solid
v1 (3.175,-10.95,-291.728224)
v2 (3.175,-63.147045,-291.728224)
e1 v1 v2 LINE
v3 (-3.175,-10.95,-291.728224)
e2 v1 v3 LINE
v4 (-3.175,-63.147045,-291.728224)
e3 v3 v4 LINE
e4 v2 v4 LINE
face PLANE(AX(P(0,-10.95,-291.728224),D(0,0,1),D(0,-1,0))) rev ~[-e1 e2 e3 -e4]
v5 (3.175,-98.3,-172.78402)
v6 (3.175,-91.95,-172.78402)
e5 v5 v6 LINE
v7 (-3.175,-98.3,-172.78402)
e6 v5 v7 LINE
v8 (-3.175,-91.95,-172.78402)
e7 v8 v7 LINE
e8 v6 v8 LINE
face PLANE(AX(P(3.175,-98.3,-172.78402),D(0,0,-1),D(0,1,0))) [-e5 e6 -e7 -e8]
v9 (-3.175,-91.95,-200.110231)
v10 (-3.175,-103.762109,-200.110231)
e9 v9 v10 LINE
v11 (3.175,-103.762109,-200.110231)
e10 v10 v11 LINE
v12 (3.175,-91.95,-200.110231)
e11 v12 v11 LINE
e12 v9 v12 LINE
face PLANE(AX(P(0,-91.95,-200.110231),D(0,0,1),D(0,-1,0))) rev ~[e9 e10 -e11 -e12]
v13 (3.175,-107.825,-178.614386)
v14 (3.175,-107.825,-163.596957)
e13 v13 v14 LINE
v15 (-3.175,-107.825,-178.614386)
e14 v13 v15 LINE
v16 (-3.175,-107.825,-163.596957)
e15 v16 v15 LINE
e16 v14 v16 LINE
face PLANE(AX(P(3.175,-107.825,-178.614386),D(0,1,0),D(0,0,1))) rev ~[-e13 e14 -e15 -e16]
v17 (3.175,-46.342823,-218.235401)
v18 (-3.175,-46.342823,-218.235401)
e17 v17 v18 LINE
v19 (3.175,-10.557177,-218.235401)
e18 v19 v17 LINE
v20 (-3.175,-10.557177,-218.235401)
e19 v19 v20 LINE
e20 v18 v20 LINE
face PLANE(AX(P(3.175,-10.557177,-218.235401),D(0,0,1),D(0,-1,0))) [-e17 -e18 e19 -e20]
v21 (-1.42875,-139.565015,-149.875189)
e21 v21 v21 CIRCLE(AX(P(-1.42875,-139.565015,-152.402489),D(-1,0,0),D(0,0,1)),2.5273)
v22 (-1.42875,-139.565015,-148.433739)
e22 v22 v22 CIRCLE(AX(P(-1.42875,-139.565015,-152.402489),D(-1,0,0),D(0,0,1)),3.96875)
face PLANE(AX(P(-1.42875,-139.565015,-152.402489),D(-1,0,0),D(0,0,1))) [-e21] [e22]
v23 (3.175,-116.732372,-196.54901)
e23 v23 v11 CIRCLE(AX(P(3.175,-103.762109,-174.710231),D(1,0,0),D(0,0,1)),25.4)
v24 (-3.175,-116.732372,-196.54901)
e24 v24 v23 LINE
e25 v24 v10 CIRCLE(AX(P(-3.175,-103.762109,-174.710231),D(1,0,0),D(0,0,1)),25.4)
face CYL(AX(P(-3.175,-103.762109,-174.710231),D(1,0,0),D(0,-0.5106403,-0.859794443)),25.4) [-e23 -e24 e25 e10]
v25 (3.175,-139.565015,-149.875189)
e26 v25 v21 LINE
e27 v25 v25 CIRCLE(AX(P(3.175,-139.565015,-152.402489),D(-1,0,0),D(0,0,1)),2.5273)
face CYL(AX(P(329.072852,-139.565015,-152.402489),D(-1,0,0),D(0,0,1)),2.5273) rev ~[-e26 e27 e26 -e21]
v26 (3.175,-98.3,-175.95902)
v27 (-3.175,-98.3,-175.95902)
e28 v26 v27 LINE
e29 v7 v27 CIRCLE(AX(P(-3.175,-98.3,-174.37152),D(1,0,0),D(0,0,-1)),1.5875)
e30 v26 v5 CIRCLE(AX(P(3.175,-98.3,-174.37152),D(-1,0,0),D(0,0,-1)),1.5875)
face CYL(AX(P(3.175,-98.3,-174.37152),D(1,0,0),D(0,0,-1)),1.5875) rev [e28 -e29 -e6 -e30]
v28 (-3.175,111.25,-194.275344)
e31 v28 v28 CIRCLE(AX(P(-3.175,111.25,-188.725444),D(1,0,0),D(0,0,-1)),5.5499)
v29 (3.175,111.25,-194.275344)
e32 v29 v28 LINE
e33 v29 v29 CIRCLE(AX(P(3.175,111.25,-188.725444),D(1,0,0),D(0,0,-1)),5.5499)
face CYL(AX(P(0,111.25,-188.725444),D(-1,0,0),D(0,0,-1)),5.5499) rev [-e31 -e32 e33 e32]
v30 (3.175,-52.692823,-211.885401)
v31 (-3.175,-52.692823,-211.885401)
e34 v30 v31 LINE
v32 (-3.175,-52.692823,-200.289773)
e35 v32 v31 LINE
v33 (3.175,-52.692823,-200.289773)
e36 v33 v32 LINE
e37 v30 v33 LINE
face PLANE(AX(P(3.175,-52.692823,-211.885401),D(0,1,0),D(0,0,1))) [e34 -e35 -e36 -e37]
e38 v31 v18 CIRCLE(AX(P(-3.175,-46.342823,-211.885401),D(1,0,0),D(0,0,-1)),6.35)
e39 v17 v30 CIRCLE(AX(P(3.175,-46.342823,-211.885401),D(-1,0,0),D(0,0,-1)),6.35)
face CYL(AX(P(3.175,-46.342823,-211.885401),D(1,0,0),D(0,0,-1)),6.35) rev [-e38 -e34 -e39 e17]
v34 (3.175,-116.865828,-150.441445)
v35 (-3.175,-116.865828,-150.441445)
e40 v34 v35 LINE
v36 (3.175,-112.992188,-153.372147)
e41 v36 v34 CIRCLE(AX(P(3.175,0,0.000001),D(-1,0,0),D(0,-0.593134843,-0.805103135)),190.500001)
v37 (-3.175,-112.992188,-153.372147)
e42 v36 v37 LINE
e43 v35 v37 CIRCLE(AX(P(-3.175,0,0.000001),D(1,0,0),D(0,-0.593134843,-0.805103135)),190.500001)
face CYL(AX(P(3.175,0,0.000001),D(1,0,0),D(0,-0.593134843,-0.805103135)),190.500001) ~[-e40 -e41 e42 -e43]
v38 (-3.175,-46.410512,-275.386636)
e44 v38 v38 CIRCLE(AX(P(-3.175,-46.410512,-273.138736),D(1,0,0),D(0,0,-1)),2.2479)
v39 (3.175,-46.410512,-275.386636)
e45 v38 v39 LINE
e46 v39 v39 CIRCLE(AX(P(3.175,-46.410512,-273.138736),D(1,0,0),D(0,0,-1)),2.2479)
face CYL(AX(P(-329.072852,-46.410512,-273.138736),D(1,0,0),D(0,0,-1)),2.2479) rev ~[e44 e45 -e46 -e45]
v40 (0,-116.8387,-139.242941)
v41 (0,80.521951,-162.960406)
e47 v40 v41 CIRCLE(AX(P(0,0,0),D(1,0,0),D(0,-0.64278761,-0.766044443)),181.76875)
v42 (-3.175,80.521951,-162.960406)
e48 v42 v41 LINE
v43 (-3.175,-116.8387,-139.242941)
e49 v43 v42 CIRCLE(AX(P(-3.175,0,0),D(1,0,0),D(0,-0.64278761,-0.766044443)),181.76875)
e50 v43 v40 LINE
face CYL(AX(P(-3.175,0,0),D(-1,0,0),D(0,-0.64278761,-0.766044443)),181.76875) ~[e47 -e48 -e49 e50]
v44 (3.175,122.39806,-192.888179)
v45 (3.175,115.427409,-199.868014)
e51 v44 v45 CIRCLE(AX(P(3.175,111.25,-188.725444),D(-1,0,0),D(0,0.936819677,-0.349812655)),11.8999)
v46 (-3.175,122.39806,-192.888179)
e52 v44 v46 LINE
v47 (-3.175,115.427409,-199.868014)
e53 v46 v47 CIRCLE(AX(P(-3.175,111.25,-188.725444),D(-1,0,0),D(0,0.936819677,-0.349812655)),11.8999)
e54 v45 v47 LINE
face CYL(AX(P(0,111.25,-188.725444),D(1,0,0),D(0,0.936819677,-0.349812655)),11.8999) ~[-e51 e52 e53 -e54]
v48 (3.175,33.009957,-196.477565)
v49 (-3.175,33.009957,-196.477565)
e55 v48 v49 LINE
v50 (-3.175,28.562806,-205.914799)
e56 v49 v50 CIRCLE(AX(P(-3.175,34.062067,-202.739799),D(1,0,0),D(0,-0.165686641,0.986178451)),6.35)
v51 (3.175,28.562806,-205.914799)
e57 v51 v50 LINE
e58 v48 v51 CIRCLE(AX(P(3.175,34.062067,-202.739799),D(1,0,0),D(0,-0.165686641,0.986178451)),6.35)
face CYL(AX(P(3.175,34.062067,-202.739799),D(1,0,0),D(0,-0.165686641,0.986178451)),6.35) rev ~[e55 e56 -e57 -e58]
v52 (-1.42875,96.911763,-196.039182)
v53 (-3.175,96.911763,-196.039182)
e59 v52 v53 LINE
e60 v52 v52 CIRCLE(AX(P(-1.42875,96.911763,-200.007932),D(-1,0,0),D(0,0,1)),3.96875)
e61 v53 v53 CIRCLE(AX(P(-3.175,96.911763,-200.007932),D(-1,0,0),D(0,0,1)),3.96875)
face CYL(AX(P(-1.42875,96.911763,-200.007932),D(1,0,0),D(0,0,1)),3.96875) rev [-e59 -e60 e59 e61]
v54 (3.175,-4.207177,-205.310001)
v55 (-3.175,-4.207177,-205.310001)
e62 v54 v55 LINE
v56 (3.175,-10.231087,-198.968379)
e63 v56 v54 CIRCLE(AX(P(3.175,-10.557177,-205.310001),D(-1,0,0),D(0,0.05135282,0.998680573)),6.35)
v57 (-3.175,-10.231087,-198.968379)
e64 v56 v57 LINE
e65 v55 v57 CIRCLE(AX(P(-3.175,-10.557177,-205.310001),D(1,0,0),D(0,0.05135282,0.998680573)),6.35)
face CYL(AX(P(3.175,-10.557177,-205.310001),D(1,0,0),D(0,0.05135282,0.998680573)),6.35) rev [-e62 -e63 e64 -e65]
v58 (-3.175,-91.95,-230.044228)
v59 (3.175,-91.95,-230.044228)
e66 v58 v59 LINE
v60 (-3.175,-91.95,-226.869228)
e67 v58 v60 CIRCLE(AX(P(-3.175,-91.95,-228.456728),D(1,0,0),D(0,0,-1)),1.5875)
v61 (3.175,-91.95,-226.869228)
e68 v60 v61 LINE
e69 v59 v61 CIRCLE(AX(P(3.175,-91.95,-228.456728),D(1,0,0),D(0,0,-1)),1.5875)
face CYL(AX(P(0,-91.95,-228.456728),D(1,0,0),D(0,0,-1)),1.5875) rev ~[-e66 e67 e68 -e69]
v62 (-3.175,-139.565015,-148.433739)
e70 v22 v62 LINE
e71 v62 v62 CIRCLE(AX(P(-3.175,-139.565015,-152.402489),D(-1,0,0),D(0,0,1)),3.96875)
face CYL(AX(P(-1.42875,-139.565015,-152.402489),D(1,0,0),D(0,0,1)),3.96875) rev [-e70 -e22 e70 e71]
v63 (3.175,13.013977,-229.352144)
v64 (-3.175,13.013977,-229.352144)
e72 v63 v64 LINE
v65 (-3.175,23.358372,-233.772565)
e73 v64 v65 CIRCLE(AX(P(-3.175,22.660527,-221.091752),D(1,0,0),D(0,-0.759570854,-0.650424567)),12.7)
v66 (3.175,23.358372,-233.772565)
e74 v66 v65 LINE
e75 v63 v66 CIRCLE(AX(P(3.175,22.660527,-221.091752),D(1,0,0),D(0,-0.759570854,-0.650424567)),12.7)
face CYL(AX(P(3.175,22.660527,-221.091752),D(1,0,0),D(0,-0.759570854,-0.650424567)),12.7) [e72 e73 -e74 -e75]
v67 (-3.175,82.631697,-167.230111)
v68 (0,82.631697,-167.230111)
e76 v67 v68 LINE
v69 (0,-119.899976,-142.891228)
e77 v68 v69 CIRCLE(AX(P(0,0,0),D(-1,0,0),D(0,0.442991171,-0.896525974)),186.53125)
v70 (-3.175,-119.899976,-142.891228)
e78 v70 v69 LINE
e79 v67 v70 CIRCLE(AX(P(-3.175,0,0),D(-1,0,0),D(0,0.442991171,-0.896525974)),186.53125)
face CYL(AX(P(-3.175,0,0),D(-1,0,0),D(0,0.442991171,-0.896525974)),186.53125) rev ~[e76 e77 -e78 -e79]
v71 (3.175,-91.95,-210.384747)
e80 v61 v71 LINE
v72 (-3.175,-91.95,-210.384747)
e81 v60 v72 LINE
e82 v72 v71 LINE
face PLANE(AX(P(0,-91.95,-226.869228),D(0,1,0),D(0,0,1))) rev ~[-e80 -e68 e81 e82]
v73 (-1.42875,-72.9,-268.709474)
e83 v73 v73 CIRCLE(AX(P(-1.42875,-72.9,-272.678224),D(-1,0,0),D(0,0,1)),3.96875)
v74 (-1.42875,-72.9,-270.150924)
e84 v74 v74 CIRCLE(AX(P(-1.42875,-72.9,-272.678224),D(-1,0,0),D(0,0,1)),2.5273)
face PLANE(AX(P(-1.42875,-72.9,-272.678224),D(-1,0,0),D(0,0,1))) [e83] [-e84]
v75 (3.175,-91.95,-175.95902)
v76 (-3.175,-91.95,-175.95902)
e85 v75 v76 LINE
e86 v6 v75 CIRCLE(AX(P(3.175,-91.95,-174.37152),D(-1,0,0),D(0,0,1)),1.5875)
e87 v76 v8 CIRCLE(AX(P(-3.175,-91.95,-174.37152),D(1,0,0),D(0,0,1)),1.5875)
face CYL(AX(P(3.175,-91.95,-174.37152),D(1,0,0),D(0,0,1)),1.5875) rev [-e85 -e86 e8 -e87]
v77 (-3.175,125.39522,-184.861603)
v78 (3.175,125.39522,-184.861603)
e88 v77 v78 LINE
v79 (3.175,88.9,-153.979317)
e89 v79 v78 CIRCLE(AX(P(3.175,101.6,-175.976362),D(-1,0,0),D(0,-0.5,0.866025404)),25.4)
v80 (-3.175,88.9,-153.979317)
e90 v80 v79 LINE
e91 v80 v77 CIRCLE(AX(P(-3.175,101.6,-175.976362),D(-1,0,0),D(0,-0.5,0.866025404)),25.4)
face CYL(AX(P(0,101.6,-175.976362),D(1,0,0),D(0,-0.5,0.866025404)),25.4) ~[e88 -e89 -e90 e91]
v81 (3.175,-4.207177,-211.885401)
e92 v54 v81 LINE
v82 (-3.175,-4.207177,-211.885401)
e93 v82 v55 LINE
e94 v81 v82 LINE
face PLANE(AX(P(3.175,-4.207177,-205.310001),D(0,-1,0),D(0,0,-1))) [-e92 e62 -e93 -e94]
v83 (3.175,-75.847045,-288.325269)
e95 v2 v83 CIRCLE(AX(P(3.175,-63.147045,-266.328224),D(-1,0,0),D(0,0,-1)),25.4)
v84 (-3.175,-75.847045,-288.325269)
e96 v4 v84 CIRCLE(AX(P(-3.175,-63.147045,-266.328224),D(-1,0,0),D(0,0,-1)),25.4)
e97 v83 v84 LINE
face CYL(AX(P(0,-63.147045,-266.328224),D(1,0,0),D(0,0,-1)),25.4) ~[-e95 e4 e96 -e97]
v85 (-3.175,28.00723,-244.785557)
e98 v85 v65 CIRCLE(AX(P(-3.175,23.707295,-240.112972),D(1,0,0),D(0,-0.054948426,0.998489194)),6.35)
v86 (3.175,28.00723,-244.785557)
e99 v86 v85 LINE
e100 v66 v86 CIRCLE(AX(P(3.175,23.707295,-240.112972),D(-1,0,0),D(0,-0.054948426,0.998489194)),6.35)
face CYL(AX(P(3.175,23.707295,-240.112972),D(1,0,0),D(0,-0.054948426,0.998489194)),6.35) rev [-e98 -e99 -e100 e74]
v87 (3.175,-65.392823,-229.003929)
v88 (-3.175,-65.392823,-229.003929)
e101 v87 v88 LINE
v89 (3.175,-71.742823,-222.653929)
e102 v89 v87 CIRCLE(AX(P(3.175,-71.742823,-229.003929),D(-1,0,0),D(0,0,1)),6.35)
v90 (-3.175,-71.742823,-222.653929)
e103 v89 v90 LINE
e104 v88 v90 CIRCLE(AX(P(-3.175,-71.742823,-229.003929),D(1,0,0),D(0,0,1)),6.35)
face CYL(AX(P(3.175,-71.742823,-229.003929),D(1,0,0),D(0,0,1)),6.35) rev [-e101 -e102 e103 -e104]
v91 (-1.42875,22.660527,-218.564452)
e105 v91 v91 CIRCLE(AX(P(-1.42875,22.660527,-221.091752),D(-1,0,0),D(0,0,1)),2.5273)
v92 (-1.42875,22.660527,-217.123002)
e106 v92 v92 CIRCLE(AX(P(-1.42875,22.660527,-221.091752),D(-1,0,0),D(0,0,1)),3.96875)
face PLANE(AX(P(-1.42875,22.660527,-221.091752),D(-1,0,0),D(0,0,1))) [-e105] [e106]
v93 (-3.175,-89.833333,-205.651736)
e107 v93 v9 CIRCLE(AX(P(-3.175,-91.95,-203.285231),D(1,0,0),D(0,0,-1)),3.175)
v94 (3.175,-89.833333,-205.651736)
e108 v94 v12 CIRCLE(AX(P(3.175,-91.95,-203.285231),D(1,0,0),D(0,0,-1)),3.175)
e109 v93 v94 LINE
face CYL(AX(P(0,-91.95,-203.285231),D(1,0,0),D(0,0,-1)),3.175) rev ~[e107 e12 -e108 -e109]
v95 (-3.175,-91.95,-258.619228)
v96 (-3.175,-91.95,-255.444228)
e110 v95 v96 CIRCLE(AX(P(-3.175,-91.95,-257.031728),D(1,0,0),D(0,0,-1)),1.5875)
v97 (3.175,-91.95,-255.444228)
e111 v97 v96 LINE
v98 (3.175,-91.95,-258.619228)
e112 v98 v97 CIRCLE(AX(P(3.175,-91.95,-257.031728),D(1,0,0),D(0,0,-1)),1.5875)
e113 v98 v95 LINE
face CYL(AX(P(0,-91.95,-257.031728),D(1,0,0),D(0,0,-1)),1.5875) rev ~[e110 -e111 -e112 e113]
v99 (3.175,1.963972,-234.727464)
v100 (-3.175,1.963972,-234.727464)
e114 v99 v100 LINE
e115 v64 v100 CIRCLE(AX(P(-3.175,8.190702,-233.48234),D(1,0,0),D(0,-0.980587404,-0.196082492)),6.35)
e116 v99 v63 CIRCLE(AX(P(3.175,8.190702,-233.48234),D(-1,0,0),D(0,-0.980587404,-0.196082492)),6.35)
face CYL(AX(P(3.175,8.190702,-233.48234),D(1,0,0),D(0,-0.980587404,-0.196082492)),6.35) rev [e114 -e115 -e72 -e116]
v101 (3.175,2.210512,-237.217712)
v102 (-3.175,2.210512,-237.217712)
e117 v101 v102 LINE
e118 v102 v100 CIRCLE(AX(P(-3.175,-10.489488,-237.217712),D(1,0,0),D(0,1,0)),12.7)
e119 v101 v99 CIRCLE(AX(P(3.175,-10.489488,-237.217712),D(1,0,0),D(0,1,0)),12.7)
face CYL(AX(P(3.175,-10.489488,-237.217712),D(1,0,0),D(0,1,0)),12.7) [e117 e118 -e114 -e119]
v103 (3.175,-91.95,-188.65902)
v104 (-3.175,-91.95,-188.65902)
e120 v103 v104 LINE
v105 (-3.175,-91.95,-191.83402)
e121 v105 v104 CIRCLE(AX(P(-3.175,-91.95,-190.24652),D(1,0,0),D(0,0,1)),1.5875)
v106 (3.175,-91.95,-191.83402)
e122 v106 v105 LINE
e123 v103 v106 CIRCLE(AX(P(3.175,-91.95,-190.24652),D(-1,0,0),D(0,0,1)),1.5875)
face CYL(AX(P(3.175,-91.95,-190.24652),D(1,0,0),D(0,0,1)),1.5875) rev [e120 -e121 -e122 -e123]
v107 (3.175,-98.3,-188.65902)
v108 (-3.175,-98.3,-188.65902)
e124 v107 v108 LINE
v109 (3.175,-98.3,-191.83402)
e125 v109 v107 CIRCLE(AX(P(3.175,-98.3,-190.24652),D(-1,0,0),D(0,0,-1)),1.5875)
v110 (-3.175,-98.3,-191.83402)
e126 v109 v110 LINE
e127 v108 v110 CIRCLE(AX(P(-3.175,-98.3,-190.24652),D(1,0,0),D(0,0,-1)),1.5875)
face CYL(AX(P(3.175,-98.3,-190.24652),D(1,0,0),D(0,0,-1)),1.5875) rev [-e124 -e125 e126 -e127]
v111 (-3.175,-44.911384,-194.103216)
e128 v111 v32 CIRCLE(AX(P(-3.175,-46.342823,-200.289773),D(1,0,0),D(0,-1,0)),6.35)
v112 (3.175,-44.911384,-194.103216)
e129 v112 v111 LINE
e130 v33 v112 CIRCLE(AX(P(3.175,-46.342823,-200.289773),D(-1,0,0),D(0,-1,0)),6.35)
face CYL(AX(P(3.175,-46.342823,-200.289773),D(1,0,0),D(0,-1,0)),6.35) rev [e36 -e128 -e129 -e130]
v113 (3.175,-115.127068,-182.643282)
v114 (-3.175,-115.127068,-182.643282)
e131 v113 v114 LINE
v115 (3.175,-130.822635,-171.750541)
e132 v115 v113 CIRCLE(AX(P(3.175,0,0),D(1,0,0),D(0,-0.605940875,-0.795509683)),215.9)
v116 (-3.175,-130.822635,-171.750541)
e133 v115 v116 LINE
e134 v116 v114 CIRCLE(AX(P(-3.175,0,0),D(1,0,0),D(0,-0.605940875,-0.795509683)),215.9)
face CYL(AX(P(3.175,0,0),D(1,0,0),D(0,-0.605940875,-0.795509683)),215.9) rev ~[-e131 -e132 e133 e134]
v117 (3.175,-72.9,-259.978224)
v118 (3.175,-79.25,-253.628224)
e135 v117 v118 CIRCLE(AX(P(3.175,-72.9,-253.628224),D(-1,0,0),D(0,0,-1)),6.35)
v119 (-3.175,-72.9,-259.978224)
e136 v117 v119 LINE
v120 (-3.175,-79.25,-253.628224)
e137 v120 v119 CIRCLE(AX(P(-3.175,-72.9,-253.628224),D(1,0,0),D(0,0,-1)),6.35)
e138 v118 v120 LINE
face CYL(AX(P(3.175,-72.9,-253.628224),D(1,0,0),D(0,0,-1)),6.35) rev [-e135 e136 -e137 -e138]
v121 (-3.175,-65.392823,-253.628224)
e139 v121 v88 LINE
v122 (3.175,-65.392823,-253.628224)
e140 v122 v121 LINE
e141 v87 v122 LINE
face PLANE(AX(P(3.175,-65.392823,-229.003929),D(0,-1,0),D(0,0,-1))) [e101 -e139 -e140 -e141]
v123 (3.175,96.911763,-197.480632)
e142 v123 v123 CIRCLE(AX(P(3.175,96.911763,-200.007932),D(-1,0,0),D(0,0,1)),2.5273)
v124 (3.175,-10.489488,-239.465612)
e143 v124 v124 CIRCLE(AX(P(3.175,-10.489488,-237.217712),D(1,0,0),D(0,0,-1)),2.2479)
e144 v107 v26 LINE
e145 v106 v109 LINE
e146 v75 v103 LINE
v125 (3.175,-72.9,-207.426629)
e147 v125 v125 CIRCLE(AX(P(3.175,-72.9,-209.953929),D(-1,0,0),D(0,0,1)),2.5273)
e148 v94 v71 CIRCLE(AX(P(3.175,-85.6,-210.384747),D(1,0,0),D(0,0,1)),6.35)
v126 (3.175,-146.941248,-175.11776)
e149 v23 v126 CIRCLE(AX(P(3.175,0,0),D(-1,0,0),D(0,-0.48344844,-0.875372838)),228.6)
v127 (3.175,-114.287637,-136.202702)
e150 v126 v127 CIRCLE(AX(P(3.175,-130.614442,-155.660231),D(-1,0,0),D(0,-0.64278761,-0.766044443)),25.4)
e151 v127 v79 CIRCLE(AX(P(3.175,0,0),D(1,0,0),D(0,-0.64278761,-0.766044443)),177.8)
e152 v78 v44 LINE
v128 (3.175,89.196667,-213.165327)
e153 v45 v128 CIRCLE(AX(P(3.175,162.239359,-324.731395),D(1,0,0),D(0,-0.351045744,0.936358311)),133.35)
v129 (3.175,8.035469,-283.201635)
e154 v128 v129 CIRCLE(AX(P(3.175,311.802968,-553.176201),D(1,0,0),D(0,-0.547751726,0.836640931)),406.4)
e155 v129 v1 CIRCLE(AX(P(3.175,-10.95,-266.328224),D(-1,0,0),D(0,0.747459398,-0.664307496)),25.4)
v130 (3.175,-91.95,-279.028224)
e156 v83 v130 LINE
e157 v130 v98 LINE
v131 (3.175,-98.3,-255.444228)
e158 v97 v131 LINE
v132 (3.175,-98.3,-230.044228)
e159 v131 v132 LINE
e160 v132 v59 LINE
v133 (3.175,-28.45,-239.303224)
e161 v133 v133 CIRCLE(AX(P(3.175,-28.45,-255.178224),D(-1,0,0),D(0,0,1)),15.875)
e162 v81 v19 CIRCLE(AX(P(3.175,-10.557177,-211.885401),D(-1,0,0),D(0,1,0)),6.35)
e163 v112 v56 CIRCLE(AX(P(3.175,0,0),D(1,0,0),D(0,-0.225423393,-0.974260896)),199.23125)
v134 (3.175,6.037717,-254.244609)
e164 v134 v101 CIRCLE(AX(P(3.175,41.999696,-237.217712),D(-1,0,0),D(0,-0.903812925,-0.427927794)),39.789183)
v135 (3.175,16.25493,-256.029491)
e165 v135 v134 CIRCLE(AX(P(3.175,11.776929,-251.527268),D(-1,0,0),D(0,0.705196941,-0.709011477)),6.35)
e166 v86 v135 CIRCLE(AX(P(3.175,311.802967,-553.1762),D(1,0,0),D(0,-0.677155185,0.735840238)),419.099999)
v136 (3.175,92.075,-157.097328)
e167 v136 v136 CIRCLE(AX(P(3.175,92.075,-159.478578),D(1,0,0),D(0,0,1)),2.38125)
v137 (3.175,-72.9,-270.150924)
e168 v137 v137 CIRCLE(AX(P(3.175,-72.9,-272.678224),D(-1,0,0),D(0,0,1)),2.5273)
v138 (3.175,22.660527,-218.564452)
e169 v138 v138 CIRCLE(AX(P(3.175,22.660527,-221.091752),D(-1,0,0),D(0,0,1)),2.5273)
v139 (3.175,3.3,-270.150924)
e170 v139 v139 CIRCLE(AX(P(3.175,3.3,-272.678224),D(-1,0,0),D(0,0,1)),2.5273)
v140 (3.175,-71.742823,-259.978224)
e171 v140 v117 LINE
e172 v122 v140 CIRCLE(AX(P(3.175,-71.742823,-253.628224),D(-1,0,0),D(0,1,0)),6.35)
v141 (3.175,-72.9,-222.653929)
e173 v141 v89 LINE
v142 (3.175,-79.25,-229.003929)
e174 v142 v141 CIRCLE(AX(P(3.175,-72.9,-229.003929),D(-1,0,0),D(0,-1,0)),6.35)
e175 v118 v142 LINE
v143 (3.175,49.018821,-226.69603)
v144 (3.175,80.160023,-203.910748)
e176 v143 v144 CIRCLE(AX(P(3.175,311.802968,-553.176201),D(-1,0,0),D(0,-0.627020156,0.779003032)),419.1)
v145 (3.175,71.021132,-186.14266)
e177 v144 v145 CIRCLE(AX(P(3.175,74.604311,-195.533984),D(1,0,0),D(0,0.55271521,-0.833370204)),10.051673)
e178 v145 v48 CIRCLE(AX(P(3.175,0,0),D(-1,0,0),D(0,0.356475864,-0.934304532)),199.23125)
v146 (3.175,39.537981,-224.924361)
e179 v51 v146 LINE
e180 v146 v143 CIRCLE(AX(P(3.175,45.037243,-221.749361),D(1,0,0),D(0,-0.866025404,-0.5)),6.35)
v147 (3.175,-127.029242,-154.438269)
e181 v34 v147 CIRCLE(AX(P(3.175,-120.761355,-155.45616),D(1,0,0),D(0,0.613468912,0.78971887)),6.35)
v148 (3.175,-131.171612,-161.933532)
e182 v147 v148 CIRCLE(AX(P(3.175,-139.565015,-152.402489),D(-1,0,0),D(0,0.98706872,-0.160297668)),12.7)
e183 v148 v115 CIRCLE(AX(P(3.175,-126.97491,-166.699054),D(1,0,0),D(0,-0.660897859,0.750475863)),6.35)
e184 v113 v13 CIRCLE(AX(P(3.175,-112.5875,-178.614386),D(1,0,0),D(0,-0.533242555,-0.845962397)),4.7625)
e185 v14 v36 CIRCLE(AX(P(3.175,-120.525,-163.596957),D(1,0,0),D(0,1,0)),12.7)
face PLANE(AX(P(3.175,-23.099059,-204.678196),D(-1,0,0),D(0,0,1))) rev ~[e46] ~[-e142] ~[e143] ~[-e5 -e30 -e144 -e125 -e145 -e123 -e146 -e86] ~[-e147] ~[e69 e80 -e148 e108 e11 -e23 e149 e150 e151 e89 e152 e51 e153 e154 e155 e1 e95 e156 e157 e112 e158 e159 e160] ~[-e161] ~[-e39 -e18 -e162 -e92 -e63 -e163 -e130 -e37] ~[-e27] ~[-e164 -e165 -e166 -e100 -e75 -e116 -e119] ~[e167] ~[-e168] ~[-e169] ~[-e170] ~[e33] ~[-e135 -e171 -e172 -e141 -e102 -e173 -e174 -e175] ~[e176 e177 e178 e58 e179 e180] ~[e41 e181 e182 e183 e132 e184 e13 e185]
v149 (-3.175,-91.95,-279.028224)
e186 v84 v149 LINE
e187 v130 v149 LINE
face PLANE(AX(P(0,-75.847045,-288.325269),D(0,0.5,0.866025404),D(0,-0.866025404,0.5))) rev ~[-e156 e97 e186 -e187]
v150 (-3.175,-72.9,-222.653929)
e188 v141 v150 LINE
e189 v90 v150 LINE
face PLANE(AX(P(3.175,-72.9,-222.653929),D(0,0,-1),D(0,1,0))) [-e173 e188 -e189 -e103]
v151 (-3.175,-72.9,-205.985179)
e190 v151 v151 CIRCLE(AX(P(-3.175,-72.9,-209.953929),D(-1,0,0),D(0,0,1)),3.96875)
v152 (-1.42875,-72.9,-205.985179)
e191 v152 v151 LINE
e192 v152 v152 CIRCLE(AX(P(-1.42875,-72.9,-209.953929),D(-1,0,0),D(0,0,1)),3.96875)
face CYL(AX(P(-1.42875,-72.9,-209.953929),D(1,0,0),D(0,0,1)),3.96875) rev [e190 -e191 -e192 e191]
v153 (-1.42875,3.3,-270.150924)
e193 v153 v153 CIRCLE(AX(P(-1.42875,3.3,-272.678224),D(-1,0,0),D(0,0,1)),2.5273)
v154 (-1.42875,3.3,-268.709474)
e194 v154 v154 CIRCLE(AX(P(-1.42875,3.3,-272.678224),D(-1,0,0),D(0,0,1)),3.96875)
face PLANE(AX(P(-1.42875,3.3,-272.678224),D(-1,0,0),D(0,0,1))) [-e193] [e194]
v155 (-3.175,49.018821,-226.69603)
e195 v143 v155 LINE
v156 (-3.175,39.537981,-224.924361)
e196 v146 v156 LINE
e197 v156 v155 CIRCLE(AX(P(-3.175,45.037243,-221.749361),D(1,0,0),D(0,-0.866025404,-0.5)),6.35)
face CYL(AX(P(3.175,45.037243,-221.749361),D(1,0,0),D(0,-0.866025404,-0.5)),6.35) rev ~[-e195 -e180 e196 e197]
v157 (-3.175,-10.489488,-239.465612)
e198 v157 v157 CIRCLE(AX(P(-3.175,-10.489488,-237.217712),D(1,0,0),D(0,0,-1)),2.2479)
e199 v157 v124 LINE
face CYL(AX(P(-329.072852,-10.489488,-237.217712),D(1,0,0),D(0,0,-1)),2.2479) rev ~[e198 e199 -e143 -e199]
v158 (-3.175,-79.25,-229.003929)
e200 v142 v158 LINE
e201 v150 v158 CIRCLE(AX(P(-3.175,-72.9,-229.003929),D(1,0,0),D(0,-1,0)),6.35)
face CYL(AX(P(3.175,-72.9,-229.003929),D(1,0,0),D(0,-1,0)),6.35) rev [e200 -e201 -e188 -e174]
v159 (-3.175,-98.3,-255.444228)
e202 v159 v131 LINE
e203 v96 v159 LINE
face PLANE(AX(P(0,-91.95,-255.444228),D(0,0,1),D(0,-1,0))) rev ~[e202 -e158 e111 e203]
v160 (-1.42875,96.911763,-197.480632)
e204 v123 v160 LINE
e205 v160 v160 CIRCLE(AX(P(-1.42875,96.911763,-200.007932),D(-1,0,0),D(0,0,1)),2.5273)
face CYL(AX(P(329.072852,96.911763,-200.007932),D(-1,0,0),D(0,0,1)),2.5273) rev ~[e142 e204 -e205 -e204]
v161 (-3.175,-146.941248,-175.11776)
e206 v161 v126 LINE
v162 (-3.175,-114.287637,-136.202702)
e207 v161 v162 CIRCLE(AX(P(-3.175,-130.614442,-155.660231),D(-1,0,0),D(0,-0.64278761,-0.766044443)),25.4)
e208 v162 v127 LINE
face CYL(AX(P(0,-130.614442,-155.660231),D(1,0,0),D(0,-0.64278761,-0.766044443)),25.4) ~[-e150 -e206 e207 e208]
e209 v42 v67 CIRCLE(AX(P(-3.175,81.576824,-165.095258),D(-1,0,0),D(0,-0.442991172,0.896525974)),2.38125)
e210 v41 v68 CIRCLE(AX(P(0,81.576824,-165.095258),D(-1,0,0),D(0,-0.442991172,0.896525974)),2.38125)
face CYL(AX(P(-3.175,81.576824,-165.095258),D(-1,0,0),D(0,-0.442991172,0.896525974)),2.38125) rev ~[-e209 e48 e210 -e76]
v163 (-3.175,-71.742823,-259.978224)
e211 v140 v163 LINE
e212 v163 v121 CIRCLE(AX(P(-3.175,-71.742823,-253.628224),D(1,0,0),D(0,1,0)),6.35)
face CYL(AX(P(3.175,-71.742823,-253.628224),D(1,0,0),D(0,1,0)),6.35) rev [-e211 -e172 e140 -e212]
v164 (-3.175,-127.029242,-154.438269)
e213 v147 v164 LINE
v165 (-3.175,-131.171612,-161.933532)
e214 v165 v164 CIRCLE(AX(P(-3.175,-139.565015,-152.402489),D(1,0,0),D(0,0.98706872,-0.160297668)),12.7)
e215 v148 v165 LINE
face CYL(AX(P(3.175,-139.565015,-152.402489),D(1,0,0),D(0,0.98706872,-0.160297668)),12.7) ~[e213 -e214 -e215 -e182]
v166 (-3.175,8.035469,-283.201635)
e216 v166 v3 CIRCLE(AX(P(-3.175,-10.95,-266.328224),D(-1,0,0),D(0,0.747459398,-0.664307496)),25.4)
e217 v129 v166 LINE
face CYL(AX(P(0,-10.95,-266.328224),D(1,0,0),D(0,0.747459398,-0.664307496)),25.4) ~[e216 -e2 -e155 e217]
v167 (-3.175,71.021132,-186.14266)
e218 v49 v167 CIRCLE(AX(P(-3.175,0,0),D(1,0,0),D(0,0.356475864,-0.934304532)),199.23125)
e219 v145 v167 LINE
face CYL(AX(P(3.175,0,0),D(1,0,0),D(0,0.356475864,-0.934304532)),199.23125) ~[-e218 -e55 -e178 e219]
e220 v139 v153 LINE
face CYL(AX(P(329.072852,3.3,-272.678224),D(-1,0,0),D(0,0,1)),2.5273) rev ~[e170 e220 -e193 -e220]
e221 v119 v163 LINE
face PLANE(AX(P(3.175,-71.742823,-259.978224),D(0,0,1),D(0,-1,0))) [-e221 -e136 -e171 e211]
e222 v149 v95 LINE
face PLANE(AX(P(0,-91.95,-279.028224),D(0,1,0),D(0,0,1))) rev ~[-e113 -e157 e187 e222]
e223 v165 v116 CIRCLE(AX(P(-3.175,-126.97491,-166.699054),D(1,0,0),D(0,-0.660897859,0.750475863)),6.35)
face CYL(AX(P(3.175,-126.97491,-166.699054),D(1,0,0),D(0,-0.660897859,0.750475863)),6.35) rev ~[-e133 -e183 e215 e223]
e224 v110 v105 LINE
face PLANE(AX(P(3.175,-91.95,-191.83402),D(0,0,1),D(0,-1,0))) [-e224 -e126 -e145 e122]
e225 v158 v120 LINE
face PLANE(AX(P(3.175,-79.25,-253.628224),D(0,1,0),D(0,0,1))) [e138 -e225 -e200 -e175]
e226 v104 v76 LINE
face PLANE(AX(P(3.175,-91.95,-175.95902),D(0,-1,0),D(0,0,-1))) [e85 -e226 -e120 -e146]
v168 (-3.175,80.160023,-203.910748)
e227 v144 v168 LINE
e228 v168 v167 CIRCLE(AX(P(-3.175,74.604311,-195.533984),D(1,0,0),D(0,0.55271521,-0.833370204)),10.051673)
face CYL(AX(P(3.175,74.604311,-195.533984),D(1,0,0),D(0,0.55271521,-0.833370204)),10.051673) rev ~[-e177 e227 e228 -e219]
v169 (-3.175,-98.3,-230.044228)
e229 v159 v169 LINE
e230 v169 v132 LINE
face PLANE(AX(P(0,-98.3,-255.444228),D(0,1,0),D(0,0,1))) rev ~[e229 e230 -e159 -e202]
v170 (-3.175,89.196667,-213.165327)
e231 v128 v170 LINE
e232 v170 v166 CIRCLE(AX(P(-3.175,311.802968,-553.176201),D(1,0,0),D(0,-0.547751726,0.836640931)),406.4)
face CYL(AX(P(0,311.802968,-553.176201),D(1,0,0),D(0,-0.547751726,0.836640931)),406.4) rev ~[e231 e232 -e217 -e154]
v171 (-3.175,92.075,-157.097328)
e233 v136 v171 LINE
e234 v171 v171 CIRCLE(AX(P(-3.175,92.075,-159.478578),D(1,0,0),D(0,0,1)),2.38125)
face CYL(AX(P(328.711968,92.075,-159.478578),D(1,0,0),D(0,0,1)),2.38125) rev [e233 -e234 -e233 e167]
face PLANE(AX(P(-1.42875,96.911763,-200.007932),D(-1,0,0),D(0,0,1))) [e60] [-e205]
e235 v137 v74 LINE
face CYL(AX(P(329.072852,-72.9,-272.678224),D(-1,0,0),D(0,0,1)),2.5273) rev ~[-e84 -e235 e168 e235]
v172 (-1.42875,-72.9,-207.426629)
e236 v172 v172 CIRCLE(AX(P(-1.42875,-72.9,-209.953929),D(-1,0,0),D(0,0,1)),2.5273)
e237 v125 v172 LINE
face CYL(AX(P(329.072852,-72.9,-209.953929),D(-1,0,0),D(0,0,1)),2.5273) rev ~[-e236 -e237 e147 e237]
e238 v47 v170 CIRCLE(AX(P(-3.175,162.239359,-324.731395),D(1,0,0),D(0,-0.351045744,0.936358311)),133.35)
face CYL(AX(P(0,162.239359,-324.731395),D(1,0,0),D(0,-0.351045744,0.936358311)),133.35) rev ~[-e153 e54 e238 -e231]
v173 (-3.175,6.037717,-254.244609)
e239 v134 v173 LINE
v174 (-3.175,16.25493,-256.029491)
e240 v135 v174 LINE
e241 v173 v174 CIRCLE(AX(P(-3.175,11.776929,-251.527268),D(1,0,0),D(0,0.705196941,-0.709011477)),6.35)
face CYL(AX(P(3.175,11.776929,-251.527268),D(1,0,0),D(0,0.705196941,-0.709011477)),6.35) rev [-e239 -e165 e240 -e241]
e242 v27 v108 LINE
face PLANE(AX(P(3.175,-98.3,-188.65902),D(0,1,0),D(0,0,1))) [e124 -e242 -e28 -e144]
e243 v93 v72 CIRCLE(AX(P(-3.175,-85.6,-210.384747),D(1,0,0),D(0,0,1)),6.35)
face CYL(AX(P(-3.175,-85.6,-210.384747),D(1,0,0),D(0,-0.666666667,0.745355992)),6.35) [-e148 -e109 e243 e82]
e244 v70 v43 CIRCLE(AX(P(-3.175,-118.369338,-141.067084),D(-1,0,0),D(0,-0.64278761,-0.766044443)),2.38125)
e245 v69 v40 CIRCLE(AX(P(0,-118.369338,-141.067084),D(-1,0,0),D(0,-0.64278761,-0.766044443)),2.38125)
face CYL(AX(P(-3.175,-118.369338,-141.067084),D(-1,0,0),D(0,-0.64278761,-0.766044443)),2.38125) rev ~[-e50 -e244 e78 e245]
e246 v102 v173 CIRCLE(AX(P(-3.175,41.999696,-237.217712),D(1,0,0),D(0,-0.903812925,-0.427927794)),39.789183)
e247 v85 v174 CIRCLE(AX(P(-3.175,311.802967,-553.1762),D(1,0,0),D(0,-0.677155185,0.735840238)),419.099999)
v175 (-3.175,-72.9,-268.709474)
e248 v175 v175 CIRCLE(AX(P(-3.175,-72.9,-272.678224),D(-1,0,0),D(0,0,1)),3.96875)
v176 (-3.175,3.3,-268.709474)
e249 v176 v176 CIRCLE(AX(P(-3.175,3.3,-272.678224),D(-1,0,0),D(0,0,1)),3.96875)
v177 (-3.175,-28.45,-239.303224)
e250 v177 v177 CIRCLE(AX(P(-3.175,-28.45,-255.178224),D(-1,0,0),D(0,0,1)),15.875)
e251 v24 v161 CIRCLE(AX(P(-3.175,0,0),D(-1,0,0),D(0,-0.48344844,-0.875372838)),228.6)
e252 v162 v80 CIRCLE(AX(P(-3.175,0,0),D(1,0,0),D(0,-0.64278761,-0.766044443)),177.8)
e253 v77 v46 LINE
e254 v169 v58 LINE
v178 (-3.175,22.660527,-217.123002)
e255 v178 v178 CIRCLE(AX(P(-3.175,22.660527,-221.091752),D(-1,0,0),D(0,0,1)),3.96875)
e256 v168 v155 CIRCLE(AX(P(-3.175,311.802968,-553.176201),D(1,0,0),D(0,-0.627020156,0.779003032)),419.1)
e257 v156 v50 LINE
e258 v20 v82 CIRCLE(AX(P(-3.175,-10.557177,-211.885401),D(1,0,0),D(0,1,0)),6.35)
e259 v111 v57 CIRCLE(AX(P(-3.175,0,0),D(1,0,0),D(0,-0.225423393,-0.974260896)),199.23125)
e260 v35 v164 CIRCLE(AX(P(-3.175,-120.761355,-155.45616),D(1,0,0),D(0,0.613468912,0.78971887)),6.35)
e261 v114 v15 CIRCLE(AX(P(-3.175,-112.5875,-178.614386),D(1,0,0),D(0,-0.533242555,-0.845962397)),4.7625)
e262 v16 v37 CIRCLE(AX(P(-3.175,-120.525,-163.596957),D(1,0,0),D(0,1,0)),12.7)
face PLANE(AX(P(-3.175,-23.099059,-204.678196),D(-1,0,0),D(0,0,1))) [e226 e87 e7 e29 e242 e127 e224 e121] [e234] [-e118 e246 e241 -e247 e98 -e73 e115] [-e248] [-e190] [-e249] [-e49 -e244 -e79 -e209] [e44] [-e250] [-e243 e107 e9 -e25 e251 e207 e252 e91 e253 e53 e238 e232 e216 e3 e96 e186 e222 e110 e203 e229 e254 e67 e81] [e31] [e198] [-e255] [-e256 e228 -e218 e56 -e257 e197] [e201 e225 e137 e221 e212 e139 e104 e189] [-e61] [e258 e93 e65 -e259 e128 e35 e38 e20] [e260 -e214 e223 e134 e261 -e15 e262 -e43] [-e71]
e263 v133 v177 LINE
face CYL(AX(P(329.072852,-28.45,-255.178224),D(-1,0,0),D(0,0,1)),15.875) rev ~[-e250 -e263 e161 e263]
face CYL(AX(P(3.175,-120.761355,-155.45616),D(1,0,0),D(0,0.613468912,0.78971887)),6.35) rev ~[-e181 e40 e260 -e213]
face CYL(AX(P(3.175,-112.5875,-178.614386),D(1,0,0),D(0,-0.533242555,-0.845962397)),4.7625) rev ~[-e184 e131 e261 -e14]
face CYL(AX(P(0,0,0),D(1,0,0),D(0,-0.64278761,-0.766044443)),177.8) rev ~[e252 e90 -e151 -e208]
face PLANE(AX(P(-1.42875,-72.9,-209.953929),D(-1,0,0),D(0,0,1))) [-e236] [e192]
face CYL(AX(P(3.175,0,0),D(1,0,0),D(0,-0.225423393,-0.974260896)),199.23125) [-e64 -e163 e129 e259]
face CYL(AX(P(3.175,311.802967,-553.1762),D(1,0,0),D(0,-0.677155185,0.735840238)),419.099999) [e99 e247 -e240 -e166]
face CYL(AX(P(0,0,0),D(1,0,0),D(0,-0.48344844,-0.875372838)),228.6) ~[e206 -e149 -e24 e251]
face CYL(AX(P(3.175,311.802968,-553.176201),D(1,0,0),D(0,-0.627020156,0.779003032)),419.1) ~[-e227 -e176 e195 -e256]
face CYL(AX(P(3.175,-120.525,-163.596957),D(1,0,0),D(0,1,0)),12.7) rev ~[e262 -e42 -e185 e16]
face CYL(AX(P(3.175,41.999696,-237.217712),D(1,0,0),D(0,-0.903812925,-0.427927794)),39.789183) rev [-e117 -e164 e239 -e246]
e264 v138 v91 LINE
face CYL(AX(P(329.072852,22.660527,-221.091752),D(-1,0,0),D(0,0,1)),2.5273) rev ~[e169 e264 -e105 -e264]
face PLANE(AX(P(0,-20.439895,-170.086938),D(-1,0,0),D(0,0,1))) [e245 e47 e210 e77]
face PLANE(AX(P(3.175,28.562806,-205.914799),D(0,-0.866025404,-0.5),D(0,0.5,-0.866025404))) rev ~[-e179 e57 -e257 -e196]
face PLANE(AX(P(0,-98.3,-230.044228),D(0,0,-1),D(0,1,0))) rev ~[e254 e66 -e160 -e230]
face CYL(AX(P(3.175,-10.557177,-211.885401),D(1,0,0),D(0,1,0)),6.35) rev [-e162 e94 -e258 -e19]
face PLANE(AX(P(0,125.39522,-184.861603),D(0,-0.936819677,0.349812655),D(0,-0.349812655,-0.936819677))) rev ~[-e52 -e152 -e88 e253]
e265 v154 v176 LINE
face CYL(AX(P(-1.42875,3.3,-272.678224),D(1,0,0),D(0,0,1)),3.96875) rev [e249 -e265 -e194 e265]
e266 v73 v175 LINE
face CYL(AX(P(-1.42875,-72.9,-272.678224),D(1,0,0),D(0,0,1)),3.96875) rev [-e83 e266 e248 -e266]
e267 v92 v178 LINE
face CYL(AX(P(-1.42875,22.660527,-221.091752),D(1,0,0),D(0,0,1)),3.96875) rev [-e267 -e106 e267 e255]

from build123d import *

# Parameters (mm, degrees)
SKETCH2_R                  = 5.5499
BOSS_EXTRUDE1_DEPTH        = 3.175
CUT_EXTRUDE1_DEPTH         = 3.175
CUT_EXTRUDE6_DEPTH         = 331.886967859
CUT_EXTRUDE6_DEPTH_BACK    = 331.886967859
SKETCH32_R                 = 2.38125
CUT_EXTRUDE4_DEPTH         = 331.886967859
F_1_1_DIAMETER_HOLE1_D     = 31.75
F_8_CLEARANCE_HOLE1_D      = 4.4958
FILLET1_R                  = 25.4
FILLET2_R                  = 6.35
CUT_EXTRUDE7_START         = -1.74625
SKETCH34_R                 = 3.968749998
SKETCH34_R_2               = 3.96875
SKETCH34_R_3               = 3.968749996
CUT_EXTRUDE7_DEPTH         = 1.74625
F_8_0_199_DIAMETER_HOLE1_D = 5.0546
CUT_EXTRUDE9_DEPTH         = 331.886967859


with BuildPart() as part:
    # Sketch2 → Boss-Extrude1 (new, symmetric)
    with BuildSketch(Plane(origin=(0, 0, 0), x_dir=(0, 0, -1), z_dir=(1, 0, 0))):
        with BuildLine():
            Line((184.861603477, 125.395219788), (192.888179376, 122.398060471))
            ThreePointArc((192.888179376, 122.398060471), (197.134402772, 119.670037319), (199.868014027, 115.427409246))
            ThreePointArc((199.868014027, 115.427409246), (205.79135088, 101.944347228), (213.165326628, 89.196666555))
            ThreePointArc((213.165326628, 89.196666555), (245.495612564, 46.296629776), (283.201634595, 8.035468699))
            ThreePointArc((283.201634595, 8.035468699), (289.498729419, -0.543862964), (291.728224202, -10.95))
            Line((291.728224202, -10.95), (291.728224202, -63.147045251))
            ThreePointArc((291.728224202, -63.147045251), (290.86274019, -69.721048996), (288.325269458, -75.847045251))
            Line((288.325269458, -75.847045251), (279.028224202, -91.949999995))
            Line((279.028224202, -91.949999995), (258.619227522, -91.949999995))
            ThreePointArc((258.619227522, -91.949999995), (257.031727522, -90.362499995), (255.444227522, -91.949999995))
            Line((255.444227522, -91.949999995), (255.444227522, -98.3))
            Line((255.444227522, -98.3), (230.044227522, -98.3))
            Line((230.044227522, -98.3), (230.044227522, -91.949999995))
            ThreePointArc((230.044227522, -91.949999995), (228.456727522, -90.362499995), (226.869227522, -91.949999995))
            Line((226.869227522, -91.949999995), (206.460230842, -91.949999995))
            ThreePointArc((206.460230842, -91.949999995), (203.285230842, -88.774999995), (200.110230842, -91.949999995))
            Line((200.110230842, -91.949999995), (200.110230842, -110.516313332))
            ThreePointArc((200.110230842, -110.516313332), (188.495902289, -129.333888909), (175.117759697, -146.941247574))
            ThreePointArc((175.117759697, -146.941247574), (139.333425556, -150.071971144), (136.202701987, -114.287637002))
            ThreePointArc((136.202701987, -114.287637002), (177.123417321, -15.496291061), (153.979316793, 88.9))
            ThreePointArc((153.979316793, 88.9), (156.586799992, 118.007464254), (184.861603477, 125.395219788))
        make_face()
        with Locations((188.725443767, 111.25)):
            Circle(SKETCH2_R, mode=Mode.SUBTRACT)
    extrude(amount=BOSS_EXTRUDE1_DEPTH, both=True)

    # Sketch4 → Cut-Extrude1 (cut)
    with BuildSketch(Plane.ZY.offset(3.175)):
        with BuildLine():
            ThreePointArc((-142.891227531, -119.899976319), (-139.536446205, -120.193481654), (-139.24294087, -116.838700328))
            ThreePointArc((-139.24294087, -116.838700328), (-180.470281158, -21.687694559), (-162.960405636, 80.521951489))
            ThreePointArc((-162.960405636, 80.521951489), (-164.040385384, 83.711676692), (-167.230110587, 82.631696943))
            ThreePointArc((-167.230110587, 82.631696943), (-185.19876014, -22.255931098), (-142.891227531, -119.899976319))
        make_face()
    extrude(amount=-CUT_EXTRUDE1_DEPTH, mode=Mode.SUBTRACT)

    # Sketch32 → Cut-Extrude6 (cut, two sides: drawn at the far end of the back side and taken through both)
    with BuildSketch(Plane.ZY.offset(3.175).offset(-CUT_EXTRUDE6_DEPTH_BACK)):
        with Locations((-159.478578107, 92.075)):
            Circle(SKETCH32_R)
    extrude(amount=CUT_EXTRUDE6_DEPTH + CUT_EXTRUDE6_DEPTH_BACK, mode=Mode.SUBTRACT)

    # Sketch23 → Cut-Extrude4 (cut, through all)
    with BuildSketch(Plane(origin=(3.175, 0, 0), x_dir=(0, 0, -1), z_dir=(1, 0, 0))):
        with BuildLine():
            Line((191.834020078, -91.95), (191.834020078, -98.3))
            ThreePointArc((191.834020078, -98.3), (190.246520078, -99.8875), (188.659020078, -98.3))
            Line((188.659020078, -98.3), (175.959020078, -98.3))
            ThreePointArc((175.959020078, -98.3), (174.371520078, -99.8875), (172.784020078, -98.3))
            Line((172.784020078, -98.3), (172.784020078, -91.95))
            ThreePointArc((172.784020078, -91.95), (174.371520078, -90.3625), (175.959020078, -91.95))
            Line((175.959020078, -91.95), (188.659020078, -91.95))
            ThreePointArc((188.659020078, -91.95), (190.246520078, -90.3625), (191.834020078, -91.95))
        make_face()
    extrude(amount=-CUT_EXTRUDE4_DEPTH, mode=Mode.SUBTRACT)

    # 1 (1) Diameter Hole1 (through all)
    with Locations(Plane(origin=(3.175, 0, 0), x_dir=(0, 0, -1), z_dir=(1, 0, 0))):
        with Locations((255.178224202, -28.45)):
            Hole(F_1_1_DIAMETER_HOLE1_D / 2)

    # #8 Clearance Hole1 (through all)
    with Locations(Plane.ZY.offset(3.175)):
        with Locations((-273.138736444, -46.410512242), (-237.21771196, -10.489487758)):
            Hole(F_8_CLEARANCE_HOLE1_D / 2)

    # Fillet1
    fillet1_edges = [part.edges().sort_by_distance(p)[0] for p in [
        (0, -110.516313332, -200.110230842),
    ]]
    fillet(fillet1_edges, radius=FILLET1_R)

    # Fillet2
    fillet2_edges = [part.edges().sort_by_distance(p)[0] for p in [
        (0, -91.949999995, -206.460230842),
    ]]
    fillet(fillet2_edges, radius=FILLET2_R)

    # Sketch34 → Cut-Extrude7 (cut)
    with BuildSketch(Plane.ZY.offset(3.175).offset(CUT_EXTRUDE7_START)):
        with Locations((-272.678224202, -72.899999995)):
            Circle(SKETCH34_R)
        with Locations((-272.678224202, 3.300000005)):
            Circle(SKETCH34_R)
        with Locations((-209.953929472, -72.899999995)):
            Circle(SKETCH34_R_2)
        with Locations((-221.091752478, 22.660527049)):
            Circle(SKETCH34_R)
        with Locations((-200.007931611, 96.911762922)):
            Circle(SKETCH34_R_3)
        with Locations((-152.402488977, -139.565014501)):
            Circle(SKETCH34_R_2)
    extrude(amount=CUT_EXTRUDE7_DEPTH, mode=Mode.SUBTRACT)

    # #8 (0.199) Diameter Hole1 (through all)
    with Locations(Plane(origin=(3.175, 0, 0), x_dir=(0, 0, -1), z_dir=(1, 0, 0))):
        with Locations((272.678224202, -72.899999995), (209.953929472, -72.899999995), (221.091752478, 22.660527049), (200.007931611, 96.911762922), (272.678224202, 3.300000005), (152.402488977, -139.565014501)):
            Hole(F_8_0_199_DIAMETER_HOLE1_D / 2)

    # Sketch38 → Cut-Extrude9 (cut, through all)
    with BuildSketch(Plane(origin=(3.175, 0, 0), x_dir=(0, 0, -1), z_dir=(1, 0, 0))):
        with BuildLine():
            Line((205.914798647, 28.562805507), (224.924360785, 39.537981324))
            ThreePointArc((224.924360785, 39.537981324), (227.99131211, 43.870819192), (226.69603004, 49.018820627))
            ThreePointArc((226.69603004, 49.018820627), (214.944800076, 64.327050851), (203.910748393, 80.160023463))
            ThreePointArc((203.910748393, 80.160023463), (190.936466062, 83.542932982), (186.142659774, 71.021131989))
            ThreePointArc((186.142659774, 71.021131989), (192.251844092, 52.271592857), (196.477565484, 33.009956649))
            ThreePointArc((196.477565484, 33.009956649), (200.032947992, 28.317899385), (205.914798647, 28.562805507))
        make_face()
        with BuildLine():
            Line((205.310000647, -4.207176979), (211.8854012, -4.207176979))
            ThreePointArc((211.8854012, -4.207176979), (216.375529261, -6.067048919), (218.2354012, -10.557176979))
            Line((218.2354012, -10.557176979), (218.2354012, -46.34282301))
            ThreePointArc((218.2354012, -46.34282301), (216.375529261, -50.832951071), (211.8854012, -52.69282301))
            Line((211.8854012, -52.69282301), (200.289772847, -52.69282301))
            ThreePointArc((200.289772847, -52.69282301), (195.319253016, -50.294586238), (194.103216157, -44.911384462))
            ThreePointArc((194.103216157, -44.911384462), (197.299266335, -27.67833955), (198.968379006, -10.23108657))
            ThreePointArc((198.968379006, -10.23108657), (200.936682347, -5.953201844), (205.310000647, -4.207176979))
        make_face()
        with BuildLine():
            Line((229.003929472, -65.39282301), (253.628224202, -65.39282301))
            ThreePointArc((253.628224202, -65.39282301), (258.118352263, -67.25269495), (259.978224202, -71.74282301))
            Line((259.978224202, -71.74282301), (259.978224202, -72.899999995))
            ThreePointArc((259.978224202, -72.899999995), (258.118352263, -77.390128055), (253.628224202, -79.249999995))
            Line((253.628224202, -79.249999995), (229.003929472, -79.249999995))
            ThreePointArc((229.003929472, -79.249999995), (224.513801412, -77.390128055), (222.653929472, -72.899999995))
            Line((222.653929472, -72.899999995), (222.653929472, -71.74282301))
            ThreePointArc((222.653929472, -71.74282301), (224.513801412, -67.25269495), (229.003929472, -65.39282301))
        make_face()
        with BuildLine():
            Line((178.614385619, -107.825), (163.596957108, -107.825))
            ThreePointArc((163.596957108, -107.825), (157.868812502, -109.190170518), (153.372147289, -112.9921875))
            ThreePointArc((153.372147289, -112.9921875), (151.919142792, -114.938348924), (150.441444733, -116.865827797))
            ThreePointArc((150.441444733, -116.865827797), (149.54669032, -123.085290269), (154.438269364, -127.02924176))
            ThreePointArc((154.438269364, -127.02924176), (158.545587593, -128.449604505), (161.93353243, -131.171611694))
            ThreePointArc((161.93353243, -131.171611694), (166.924642658, -133.320901925), (171.750540646, -130.822634844))
            ThreePointArc((171.750540646, -130.822634844), (177.370609198, -123.095397934), (182.643281535, -115.127067669))
            ThreePointArc((182.643281535, -115.127067669), (182.784283536, -110.2867702), (178.614385619, -107.825))
        make_face()
        with BuildLine():
            ThreePointArc((229.352144485, 13.013977205), (232.770157357, 17.670050169), (233.772565242, 23.358372055))
            ThreePointArc((233.772565242, 23.358372055), (237.643482483, 29.557433307), (244.785557135, 28.00722998))
            ThreePointArc((244.785557135, 28.00722998), (250.350507009, 22.07652944), (256.029490766, 16.254930046))
            ThreePointArc((256.029490766, 16.254930046), (257.782536544, 10.684174236), (254.244609375, 6.037717399))
            ThreePointArc((254.244609375, 6.037717399), (245.943574881, 3.17910276), (237.21771196, 2.210512242))
            ThreePointArc((237.21771196, 2.210512242), (235.966501016, 2.148726957), (234.727464312, 1.96397227))
            ThreePointArc((234.727464312, 1.96397227), (227.77212485, 5.41294467), (229.352144485, 13.013977205))
        make_face()
    extrude(amount=-CUT_EXTRUDE9_DEPTH, mode=Mode.SUBTRACT)


solid = part.part
